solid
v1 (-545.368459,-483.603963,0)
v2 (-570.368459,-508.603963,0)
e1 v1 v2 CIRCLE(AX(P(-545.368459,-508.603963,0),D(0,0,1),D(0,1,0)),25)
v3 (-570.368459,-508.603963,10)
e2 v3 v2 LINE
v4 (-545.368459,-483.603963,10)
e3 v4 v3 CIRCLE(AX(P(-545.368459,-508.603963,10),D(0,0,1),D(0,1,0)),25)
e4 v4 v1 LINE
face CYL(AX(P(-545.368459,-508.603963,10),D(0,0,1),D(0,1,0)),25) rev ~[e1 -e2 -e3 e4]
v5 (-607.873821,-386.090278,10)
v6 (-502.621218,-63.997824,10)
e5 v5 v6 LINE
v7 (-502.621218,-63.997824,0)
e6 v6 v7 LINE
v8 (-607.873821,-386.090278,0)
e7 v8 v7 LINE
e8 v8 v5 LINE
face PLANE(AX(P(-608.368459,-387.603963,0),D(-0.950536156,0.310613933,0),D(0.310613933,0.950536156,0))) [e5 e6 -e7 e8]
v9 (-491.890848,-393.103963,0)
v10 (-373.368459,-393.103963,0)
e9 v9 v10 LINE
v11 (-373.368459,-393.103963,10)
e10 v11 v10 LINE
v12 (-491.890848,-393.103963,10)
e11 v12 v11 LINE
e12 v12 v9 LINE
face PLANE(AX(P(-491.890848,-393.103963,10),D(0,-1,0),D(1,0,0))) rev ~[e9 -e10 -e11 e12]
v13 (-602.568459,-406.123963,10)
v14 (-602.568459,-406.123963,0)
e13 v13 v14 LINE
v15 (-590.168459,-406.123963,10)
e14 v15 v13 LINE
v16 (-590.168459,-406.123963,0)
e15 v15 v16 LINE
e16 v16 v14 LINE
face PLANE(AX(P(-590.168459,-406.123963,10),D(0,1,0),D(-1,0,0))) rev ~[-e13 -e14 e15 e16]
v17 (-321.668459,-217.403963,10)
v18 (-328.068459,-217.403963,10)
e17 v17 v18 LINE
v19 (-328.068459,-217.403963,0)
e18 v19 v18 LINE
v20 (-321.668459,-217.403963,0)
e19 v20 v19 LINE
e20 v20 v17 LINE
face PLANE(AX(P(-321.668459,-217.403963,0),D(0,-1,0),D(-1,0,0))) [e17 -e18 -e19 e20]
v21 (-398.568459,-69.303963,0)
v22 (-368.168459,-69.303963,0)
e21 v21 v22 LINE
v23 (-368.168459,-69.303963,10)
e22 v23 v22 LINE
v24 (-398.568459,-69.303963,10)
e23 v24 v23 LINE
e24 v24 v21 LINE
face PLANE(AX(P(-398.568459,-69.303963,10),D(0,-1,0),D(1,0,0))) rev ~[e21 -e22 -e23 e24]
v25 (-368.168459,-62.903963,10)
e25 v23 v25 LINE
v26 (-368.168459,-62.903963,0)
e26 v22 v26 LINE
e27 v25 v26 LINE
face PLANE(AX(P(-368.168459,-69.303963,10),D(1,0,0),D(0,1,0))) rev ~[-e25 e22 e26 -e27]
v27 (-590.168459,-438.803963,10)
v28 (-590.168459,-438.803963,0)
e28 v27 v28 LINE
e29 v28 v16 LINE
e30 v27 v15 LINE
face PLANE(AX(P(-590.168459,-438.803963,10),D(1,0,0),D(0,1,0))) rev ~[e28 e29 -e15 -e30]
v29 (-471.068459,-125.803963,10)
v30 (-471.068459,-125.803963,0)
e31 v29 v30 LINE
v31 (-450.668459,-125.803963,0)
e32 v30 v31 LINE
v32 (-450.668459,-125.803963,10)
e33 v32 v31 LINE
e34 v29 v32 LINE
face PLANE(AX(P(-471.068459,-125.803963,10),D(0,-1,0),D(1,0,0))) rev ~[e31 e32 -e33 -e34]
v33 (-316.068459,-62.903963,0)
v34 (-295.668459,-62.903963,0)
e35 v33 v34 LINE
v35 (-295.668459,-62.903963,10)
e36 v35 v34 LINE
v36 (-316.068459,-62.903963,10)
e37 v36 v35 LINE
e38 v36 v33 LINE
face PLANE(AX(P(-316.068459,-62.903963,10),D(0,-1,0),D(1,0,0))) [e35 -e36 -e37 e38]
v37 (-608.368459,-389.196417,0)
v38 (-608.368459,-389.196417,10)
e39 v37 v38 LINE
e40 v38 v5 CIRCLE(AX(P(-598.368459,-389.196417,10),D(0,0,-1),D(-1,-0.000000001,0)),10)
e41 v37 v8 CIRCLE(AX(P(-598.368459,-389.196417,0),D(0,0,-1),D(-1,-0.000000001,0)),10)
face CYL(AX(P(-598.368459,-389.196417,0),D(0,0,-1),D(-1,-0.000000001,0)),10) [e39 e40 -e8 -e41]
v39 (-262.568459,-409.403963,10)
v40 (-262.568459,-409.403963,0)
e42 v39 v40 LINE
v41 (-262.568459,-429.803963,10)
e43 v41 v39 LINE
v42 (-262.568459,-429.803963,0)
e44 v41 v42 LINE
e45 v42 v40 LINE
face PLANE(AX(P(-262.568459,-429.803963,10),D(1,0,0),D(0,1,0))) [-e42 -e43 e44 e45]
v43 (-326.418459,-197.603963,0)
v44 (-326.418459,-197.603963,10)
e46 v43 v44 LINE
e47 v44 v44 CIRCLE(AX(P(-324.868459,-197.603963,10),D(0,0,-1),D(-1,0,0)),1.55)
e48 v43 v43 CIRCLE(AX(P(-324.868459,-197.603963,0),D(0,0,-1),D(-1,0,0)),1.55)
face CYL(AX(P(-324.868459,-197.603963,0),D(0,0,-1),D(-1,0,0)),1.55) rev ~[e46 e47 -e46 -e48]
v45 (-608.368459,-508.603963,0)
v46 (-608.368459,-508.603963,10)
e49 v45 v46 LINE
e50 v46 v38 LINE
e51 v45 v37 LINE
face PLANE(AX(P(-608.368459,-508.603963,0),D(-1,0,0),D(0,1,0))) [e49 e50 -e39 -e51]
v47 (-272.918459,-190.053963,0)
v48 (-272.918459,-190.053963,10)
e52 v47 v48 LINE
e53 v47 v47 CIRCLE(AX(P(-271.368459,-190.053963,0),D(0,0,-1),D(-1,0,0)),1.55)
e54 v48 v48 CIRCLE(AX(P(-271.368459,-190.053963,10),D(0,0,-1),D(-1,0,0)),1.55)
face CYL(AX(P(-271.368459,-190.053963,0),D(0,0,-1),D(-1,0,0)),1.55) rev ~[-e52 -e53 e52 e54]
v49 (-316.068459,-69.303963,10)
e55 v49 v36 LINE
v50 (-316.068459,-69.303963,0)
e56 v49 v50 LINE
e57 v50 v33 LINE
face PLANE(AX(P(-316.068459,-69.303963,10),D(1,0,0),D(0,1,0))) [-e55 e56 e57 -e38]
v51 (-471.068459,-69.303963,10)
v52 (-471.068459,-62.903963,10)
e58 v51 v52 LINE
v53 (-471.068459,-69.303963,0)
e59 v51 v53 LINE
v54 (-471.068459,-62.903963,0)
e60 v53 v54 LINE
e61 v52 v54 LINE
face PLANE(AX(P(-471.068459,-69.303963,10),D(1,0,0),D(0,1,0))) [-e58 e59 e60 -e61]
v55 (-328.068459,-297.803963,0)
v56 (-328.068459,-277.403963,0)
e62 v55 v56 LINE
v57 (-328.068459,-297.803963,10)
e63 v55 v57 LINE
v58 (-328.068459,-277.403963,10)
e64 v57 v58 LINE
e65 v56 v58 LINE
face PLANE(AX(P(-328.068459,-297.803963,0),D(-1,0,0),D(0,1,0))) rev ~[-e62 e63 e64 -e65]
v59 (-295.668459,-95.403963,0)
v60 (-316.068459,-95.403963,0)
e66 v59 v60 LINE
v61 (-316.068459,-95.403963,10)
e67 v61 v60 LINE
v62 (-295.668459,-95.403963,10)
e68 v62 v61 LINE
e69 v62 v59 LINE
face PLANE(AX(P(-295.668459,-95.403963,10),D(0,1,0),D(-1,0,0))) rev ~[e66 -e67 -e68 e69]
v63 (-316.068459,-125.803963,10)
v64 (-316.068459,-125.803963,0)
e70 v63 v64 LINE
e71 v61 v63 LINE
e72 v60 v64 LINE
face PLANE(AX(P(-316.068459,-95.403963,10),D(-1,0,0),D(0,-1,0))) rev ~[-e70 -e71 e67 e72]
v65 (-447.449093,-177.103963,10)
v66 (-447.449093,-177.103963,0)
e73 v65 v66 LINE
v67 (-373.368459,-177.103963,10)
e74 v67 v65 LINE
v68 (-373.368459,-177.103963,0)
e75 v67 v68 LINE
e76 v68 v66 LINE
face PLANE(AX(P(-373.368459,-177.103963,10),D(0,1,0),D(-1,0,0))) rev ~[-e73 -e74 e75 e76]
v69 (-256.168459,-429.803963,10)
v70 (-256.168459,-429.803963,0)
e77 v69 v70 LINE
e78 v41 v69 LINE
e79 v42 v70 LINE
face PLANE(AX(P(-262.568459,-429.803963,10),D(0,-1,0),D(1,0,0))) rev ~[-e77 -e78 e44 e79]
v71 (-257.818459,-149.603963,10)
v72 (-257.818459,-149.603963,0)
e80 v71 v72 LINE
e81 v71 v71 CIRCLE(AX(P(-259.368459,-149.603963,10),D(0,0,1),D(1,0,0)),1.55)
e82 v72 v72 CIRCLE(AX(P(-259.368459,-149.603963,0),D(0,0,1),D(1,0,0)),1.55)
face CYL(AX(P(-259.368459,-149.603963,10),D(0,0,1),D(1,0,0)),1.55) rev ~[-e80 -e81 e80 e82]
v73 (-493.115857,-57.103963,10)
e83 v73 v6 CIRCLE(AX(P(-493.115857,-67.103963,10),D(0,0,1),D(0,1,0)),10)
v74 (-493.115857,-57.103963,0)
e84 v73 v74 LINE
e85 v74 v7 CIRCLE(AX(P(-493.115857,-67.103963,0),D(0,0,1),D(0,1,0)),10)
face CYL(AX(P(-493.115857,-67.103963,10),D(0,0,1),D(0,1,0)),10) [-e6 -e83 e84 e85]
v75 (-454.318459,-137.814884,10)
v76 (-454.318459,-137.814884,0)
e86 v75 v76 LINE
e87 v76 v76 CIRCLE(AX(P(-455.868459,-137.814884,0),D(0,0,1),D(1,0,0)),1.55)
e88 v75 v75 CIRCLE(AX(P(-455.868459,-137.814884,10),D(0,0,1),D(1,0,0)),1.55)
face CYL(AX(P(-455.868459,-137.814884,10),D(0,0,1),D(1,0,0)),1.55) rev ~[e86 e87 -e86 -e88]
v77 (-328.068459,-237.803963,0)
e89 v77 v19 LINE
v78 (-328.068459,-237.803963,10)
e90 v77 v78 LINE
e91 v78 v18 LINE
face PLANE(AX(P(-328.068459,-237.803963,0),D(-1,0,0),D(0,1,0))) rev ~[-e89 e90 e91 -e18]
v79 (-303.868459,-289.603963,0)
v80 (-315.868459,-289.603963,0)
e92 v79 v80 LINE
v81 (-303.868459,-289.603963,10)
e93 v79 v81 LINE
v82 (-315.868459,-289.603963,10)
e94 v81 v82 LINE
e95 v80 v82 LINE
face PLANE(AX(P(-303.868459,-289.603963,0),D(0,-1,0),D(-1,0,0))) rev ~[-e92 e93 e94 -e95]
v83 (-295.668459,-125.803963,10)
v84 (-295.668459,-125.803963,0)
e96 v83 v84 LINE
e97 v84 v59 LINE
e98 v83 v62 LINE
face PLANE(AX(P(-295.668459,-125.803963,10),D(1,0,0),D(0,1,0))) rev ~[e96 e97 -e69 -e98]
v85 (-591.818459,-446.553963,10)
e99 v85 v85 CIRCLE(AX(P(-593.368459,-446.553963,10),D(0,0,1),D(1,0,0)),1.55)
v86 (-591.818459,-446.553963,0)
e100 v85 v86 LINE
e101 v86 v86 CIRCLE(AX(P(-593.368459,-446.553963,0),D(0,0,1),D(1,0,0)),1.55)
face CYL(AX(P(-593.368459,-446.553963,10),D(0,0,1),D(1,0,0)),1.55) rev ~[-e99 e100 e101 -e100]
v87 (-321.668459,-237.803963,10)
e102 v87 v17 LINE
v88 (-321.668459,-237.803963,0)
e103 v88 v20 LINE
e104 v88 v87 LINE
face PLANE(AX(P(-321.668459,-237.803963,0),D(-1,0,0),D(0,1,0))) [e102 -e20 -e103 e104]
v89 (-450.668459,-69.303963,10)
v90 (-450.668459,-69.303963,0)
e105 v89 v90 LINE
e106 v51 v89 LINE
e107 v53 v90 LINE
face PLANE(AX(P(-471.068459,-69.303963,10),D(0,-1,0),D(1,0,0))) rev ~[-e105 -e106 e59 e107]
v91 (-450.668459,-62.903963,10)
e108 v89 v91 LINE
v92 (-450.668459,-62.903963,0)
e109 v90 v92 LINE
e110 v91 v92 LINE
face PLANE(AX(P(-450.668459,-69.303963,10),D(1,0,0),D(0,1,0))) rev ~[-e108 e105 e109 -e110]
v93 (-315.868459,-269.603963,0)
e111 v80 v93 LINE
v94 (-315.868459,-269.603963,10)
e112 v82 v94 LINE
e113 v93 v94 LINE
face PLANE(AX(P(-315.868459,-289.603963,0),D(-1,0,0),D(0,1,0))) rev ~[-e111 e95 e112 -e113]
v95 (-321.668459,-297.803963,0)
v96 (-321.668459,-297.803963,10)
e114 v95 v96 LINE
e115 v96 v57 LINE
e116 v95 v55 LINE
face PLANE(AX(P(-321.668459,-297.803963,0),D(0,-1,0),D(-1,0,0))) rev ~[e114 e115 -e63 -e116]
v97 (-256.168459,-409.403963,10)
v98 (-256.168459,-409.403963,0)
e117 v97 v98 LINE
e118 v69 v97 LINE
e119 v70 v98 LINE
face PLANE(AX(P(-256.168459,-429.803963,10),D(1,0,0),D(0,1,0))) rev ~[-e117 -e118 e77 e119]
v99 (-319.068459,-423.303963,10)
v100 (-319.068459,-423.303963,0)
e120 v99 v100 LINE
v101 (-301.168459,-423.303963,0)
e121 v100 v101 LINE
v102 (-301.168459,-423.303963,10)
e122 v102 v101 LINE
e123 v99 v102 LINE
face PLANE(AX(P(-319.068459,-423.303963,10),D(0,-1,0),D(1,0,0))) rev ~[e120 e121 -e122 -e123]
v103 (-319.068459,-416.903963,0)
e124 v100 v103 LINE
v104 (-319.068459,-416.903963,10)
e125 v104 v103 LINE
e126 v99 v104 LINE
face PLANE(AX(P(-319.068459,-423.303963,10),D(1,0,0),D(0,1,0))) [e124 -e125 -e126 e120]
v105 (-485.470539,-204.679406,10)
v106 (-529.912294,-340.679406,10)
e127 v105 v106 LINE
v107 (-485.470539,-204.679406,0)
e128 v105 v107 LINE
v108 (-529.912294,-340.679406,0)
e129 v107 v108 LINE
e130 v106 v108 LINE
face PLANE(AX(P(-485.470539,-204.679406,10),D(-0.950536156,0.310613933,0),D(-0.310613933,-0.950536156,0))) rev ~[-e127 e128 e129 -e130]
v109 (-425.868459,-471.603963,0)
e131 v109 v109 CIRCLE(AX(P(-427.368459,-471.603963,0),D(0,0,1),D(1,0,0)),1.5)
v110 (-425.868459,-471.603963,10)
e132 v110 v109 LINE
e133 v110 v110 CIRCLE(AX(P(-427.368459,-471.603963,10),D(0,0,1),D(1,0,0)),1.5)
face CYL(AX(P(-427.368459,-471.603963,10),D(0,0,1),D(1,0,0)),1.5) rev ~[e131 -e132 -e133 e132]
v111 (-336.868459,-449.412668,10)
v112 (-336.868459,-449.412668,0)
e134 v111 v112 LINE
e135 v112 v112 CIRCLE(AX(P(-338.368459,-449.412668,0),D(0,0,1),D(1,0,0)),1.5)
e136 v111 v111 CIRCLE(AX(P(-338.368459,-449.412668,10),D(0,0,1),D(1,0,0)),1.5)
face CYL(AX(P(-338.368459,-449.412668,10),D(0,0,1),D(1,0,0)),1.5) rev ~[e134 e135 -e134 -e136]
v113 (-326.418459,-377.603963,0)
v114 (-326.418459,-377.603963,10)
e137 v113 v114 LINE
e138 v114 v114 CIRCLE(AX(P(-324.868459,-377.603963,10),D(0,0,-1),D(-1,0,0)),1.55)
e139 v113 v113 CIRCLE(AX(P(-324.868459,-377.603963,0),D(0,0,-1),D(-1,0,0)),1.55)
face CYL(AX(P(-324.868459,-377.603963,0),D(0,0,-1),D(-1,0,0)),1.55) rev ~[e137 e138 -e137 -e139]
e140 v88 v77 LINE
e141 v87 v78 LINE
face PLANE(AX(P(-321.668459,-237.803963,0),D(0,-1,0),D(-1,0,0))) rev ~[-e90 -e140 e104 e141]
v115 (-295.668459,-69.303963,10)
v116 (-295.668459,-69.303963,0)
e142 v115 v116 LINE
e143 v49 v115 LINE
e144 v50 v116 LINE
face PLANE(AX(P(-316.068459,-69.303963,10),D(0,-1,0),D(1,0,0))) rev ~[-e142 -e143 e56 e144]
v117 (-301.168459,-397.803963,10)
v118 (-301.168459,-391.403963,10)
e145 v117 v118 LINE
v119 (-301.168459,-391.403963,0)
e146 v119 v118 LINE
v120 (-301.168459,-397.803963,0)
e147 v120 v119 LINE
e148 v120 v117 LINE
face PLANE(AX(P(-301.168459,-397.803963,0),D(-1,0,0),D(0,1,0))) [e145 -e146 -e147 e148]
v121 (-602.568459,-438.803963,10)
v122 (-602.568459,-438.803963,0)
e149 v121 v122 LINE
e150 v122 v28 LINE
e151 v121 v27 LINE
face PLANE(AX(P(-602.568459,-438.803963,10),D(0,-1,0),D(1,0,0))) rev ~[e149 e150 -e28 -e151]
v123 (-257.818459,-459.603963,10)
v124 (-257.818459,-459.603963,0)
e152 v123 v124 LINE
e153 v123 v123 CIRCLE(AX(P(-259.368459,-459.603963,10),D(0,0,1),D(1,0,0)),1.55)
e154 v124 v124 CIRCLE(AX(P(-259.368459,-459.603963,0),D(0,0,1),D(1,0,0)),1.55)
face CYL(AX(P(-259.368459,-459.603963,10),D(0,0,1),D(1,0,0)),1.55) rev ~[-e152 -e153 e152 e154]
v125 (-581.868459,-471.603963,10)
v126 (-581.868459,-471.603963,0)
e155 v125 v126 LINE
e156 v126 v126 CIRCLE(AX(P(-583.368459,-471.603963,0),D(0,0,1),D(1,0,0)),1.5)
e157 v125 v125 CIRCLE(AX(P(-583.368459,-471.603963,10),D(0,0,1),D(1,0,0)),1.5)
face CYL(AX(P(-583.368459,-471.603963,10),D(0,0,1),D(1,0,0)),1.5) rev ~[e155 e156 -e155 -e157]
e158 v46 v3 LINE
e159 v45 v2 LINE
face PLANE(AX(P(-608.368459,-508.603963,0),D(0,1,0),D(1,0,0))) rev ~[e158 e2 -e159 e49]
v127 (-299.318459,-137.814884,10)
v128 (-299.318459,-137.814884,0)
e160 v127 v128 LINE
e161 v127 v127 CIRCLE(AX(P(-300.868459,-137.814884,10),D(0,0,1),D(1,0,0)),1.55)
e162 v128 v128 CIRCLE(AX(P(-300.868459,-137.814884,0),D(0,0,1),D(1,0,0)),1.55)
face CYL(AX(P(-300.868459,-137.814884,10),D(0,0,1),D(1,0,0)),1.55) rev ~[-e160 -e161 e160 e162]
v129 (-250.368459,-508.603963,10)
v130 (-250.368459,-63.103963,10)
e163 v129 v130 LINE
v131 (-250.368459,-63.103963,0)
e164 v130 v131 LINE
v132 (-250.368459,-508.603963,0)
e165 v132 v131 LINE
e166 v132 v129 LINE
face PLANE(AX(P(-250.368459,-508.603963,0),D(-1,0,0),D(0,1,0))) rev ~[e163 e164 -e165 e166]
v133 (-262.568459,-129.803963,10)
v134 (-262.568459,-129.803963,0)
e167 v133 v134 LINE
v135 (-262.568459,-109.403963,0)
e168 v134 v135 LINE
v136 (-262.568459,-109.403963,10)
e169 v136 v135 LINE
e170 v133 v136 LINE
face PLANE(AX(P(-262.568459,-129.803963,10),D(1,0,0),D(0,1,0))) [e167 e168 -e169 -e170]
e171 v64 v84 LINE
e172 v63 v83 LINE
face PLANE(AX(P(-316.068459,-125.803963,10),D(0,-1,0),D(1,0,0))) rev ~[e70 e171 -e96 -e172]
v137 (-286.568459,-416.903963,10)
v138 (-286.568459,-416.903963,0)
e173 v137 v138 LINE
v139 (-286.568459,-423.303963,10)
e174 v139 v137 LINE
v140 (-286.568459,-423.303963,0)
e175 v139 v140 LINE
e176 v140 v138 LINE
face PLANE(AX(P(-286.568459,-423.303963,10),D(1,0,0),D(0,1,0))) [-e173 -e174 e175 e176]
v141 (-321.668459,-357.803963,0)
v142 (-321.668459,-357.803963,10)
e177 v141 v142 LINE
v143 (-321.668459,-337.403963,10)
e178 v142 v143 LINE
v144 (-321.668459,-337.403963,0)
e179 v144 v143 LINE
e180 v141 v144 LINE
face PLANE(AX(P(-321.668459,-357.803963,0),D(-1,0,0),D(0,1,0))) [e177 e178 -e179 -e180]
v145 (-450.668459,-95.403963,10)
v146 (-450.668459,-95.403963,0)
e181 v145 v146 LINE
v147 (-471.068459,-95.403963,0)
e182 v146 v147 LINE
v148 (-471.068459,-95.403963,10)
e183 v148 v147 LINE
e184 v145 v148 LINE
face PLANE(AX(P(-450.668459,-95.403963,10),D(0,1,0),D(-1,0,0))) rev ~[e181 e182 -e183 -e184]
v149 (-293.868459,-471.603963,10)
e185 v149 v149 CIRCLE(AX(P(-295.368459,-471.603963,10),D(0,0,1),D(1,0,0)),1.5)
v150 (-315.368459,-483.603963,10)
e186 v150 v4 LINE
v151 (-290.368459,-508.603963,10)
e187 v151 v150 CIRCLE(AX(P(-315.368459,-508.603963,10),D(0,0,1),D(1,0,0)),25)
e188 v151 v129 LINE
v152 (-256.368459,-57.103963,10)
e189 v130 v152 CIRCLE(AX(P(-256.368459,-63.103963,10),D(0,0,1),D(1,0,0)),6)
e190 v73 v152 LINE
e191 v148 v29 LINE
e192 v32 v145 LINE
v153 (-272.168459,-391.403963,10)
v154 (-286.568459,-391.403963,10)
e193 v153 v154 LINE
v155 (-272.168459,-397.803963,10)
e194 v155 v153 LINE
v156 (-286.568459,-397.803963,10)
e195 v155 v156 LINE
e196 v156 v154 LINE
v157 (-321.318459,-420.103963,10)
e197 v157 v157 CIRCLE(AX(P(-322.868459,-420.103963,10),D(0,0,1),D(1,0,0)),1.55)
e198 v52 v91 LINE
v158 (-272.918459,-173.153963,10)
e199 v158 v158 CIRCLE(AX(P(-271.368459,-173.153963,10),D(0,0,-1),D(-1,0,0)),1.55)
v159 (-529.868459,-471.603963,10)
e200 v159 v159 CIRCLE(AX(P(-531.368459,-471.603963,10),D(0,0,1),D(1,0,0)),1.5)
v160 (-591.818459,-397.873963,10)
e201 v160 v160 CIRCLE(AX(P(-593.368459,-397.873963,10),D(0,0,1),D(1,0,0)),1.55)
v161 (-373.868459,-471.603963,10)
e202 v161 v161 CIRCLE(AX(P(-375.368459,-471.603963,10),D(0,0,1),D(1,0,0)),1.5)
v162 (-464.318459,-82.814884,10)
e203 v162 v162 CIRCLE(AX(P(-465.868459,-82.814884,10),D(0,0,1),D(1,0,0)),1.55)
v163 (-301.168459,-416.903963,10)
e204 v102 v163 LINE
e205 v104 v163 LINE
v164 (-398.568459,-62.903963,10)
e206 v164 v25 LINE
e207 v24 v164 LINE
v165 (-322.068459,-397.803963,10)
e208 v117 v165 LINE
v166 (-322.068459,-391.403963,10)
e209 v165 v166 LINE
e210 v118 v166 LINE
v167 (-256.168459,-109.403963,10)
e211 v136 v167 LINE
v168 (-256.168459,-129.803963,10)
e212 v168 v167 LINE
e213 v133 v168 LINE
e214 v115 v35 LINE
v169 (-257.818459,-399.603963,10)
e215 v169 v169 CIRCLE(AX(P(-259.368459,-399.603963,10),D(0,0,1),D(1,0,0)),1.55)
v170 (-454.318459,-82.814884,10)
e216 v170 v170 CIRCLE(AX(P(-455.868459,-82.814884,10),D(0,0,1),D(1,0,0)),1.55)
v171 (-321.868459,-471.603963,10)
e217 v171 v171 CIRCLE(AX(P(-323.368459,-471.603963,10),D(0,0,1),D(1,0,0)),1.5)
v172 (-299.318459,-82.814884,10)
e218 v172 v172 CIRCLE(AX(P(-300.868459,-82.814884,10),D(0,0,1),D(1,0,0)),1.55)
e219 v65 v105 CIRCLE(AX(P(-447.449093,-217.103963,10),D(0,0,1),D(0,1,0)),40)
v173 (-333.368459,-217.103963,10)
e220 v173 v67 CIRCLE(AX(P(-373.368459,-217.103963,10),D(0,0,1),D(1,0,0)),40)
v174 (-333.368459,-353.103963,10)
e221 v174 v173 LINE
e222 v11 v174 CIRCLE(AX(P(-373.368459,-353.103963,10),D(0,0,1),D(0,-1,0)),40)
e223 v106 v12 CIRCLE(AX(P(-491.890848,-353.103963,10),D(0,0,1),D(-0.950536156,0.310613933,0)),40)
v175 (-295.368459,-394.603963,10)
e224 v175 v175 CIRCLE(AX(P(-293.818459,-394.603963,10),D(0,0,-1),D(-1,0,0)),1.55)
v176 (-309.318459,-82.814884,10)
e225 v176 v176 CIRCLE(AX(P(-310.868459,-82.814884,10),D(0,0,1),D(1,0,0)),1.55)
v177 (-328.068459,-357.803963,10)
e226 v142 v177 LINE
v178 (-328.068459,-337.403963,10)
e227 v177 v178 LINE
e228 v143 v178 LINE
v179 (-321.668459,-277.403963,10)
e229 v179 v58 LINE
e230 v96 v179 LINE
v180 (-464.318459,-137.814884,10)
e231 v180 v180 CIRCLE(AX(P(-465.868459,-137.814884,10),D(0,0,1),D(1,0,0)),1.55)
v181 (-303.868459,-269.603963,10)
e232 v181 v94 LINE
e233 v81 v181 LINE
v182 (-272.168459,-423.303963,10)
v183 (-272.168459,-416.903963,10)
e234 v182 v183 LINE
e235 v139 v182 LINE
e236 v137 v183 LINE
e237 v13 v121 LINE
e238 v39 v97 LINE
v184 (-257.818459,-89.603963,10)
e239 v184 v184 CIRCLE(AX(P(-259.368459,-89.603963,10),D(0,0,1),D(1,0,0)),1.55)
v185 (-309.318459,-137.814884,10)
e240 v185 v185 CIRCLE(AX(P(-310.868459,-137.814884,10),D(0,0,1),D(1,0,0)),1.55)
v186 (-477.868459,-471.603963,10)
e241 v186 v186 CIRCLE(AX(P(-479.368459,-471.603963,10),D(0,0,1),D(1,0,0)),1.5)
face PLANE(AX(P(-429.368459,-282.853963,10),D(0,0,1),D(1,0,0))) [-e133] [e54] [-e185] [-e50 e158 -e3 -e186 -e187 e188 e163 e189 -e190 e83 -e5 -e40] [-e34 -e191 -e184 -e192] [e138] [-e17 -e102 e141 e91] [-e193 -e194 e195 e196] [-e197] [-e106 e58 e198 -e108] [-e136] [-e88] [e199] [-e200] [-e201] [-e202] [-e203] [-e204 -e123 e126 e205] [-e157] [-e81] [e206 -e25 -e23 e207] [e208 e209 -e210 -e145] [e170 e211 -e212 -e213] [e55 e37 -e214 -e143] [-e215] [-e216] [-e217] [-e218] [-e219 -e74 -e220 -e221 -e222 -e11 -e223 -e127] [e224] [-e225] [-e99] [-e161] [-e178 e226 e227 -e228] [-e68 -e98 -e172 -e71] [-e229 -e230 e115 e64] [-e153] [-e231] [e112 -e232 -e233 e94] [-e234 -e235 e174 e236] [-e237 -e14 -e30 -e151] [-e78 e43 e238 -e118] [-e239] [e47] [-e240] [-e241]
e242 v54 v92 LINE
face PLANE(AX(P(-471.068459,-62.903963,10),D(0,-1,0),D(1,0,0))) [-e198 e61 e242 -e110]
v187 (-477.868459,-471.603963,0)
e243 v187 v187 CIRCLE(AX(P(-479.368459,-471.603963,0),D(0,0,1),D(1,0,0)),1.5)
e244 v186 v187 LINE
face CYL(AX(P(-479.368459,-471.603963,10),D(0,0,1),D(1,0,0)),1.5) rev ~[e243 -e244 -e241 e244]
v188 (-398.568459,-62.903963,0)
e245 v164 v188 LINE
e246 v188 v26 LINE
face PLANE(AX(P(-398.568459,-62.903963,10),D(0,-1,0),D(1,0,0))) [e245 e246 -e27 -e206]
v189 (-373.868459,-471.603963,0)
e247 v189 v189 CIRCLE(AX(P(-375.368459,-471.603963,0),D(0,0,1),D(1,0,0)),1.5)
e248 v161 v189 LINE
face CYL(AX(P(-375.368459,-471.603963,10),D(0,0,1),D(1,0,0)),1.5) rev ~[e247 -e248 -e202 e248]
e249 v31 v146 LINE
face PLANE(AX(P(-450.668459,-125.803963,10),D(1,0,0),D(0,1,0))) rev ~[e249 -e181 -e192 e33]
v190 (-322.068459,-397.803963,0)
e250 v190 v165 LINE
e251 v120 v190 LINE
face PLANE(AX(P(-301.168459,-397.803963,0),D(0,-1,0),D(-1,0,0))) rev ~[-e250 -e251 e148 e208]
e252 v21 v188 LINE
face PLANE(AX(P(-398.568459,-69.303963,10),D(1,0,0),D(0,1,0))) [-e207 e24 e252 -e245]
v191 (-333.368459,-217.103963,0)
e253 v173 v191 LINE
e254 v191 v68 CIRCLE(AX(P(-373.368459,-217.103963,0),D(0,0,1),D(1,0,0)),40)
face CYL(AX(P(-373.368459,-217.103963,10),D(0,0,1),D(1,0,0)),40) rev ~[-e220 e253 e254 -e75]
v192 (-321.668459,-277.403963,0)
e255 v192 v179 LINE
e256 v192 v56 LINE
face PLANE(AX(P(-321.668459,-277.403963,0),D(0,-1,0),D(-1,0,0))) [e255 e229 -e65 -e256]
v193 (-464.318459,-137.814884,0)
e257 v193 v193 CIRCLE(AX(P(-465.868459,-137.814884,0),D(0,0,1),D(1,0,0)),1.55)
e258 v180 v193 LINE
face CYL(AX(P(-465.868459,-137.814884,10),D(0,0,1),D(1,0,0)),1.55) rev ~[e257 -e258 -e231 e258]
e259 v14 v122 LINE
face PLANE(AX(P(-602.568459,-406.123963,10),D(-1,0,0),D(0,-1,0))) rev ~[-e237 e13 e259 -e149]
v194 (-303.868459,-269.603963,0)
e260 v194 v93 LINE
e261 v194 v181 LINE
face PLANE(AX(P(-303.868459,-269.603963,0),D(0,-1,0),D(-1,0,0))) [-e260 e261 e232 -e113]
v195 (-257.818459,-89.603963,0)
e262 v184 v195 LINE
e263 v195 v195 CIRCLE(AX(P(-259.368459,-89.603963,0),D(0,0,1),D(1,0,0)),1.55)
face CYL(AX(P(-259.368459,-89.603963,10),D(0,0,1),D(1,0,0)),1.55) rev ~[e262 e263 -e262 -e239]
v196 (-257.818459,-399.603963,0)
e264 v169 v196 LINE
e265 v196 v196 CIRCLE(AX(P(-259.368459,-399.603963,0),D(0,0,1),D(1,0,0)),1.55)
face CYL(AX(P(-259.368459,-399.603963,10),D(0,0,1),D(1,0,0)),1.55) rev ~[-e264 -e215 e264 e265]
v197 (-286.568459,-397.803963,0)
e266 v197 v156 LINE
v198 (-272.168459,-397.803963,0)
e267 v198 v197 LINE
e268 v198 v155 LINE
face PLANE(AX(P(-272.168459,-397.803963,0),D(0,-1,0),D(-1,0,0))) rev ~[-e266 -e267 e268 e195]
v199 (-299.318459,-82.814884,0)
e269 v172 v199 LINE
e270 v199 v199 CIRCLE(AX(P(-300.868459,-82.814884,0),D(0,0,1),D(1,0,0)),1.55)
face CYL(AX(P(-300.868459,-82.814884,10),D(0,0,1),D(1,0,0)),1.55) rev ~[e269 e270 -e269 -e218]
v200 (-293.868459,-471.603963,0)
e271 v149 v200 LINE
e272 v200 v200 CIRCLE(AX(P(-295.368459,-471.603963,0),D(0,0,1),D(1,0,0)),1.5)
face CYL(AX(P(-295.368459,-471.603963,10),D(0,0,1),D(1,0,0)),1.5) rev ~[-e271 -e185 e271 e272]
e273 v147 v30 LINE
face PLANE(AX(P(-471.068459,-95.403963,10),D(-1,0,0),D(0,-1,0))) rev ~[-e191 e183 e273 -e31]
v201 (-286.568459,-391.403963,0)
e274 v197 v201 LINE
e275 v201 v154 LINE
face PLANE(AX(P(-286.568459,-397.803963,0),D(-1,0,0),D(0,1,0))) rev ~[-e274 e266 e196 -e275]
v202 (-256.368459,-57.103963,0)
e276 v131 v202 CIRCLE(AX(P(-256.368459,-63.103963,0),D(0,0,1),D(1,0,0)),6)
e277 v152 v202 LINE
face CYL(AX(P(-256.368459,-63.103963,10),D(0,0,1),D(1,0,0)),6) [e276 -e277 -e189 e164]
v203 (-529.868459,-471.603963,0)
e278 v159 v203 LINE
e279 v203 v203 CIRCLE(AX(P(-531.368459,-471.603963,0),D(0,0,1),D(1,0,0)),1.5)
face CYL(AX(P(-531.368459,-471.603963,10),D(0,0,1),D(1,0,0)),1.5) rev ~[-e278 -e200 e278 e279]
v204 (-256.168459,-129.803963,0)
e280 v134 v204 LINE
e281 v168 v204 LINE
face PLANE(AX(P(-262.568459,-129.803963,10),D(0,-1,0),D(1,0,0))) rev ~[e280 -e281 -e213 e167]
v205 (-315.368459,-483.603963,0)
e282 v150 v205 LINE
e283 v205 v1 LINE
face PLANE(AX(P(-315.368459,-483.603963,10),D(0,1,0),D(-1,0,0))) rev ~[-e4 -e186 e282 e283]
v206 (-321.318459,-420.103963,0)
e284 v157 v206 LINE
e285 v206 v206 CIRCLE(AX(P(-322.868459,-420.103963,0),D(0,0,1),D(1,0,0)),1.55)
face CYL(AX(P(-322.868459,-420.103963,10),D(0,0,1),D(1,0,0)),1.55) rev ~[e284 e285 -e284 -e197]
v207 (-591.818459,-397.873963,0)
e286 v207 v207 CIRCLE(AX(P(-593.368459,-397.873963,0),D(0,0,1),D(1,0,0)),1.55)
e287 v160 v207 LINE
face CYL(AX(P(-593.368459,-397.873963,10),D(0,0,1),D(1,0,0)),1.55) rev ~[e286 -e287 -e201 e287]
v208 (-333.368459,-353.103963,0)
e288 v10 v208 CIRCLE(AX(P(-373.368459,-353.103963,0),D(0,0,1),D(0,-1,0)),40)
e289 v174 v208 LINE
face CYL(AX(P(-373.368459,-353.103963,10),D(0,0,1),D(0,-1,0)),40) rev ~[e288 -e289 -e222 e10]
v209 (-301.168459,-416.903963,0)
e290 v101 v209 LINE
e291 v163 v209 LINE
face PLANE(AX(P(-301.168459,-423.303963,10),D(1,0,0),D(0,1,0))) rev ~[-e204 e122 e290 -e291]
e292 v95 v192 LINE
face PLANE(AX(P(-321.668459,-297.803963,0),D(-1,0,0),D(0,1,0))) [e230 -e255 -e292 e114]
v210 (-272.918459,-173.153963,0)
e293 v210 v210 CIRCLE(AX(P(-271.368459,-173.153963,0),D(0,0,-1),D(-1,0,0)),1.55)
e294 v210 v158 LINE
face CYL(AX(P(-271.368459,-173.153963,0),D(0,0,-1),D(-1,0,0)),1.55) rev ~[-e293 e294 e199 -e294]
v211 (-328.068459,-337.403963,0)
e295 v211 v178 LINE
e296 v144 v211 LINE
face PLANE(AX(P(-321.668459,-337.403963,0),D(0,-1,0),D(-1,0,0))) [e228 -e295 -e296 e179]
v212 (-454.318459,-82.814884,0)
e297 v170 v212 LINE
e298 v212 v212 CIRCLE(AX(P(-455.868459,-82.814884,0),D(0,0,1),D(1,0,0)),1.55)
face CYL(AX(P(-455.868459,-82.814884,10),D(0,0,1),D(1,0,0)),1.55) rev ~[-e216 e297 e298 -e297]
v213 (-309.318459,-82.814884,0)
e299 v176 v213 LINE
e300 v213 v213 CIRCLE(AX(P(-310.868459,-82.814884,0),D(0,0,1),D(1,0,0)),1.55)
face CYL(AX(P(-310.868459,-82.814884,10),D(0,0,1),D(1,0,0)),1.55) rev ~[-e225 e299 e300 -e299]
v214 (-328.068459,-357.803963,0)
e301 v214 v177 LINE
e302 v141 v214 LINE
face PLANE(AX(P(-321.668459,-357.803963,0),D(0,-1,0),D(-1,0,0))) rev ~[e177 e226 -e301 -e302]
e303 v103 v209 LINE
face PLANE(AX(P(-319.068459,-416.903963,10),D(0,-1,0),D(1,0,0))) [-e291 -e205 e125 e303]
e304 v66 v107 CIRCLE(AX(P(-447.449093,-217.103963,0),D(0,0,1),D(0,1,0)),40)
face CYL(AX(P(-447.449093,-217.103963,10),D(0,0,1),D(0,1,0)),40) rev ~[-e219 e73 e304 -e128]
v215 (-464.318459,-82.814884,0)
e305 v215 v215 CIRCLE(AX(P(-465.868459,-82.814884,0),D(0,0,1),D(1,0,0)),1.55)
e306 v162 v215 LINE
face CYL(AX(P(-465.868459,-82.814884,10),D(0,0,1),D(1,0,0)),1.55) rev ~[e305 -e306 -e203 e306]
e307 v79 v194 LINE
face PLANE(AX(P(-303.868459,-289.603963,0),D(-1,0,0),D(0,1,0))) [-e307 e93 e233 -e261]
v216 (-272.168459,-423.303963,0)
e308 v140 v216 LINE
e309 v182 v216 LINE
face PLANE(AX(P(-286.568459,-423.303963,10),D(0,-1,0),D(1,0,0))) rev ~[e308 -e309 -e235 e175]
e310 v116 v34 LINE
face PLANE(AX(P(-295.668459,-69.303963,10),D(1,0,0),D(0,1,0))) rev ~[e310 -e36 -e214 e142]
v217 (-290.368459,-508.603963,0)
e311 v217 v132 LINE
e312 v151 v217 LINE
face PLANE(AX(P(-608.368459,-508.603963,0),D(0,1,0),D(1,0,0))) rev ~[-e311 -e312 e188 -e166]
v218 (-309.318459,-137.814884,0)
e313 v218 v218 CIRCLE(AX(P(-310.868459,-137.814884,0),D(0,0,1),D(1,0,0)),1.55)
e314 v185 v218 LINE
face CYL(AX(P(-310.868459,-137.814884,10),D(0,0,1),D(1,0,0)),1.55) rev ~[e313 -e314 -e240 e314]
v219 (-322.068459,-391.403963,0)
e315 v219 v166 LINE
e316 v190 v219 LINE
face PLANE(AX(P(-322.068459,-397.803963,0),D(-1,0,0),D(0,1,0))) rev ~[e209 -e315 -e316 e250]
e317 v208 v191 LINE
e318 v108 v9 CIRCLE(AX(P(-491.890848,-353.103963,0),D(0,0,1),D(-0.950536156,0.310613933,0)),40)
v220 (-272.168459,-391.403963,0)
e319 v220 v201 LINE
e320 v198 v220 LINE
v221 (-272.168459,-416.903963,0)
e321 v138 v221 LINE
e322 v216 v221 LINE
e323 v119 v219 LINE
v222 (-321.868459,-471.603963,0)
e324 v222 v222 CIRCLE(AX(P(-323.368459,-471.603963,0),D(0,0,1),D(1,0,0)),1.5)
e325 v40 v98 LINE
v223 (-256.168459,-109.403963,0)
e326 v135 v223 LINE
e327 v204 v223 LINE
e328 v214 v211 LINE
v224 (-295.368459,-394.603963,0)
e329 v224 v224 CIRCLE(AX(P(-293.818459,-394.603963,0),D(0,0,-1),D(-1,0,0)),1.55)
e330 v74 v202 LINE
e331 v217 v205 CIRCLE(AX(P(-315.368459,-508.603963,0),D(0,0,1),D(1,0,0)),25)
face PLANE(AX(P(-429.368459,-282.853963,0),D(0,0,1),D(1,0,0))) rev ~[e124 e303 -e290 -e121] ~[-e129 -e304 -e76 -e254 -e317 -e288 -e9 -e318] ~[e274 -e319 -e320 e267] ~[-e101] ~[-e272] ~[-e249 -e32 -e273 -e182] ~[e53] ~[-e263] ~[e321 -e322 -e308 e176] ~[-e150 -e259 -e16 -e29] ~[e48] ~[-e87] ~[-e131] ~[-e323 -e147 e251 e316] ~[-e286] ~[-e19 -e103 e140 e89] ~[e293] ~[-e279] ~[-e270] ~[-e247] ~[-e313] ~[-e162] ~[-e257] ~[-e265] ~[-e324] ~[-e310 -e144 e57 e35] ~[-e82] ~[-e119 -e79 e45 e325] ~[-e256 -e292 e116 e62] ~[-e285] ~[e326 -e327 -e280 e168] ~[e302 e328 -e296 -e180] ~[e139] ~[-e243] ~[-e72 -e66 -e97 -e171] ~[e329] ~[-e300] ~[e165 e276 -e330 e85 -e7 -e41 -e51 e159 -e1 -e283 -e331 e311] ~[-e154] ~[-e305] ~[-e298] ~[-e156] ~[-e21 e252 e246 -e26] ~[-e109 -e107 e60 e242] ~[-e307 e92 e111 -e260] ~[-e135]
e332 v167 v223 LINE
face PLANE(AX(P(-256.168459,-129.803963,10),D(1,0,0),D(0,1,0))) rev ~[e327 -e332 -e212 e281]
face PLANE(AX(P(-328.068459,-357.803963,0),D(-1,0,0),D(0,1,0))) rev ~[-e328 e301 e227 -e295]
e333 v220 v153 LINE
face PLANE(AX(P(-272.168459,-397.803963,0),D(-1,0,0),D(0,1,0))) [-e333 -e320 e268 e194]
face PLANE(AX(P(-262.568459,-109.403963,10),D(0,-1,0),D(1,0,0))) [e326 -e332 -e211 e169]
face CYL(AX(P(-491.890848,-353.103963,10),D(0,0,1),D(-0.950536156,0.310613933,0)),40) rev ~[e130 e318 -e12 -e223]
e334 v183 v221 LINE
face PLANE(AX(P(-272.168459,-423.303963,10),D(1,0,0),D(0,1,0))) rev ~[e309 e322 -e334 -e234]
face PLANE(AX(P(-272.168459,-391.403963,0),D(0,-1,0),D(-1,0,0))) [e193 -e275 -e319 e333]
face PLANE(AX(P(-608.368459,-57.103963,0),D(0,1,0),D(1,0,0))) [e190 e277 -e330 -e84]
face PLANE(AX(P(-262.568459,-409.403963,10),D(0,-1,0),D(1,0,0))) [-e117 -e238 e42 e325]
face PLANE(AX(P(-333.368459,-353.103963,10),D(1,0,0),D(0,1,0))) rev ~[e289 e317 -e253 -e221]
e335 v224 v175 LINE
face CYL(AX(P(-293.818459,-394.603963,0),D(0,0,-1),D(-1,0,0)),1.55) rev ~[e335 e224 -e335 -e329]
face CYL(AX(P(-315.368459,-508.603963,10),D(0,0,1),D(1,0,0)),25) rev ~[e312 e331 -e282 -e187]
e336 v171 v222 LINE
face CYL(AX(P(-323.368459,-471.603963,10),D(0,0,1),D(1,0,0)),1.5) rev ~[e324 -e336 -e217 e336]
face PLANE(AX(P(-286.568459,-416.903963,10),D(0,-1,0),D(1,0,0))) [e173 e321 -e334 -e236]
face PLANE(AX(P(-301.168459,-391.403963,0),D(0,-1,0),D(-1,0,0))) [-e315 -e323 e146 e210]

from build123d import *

# Parameters (mm, degrees)
SZKIC1_W                    = 358
SZKIC1_H                    = 451.5
DODANIE_WYCI_GNI_CIE1_DEPTH = 10
WYTNIJ_WYCI_GNI_CIE1_DEPTH  = 10
WYTNIJ_WYCI_GNI_CIE2_DEPTH  = 10
WYTNIJ_WYCI_GNI_CIE3_DEPTH  = 10
SZKIC8_W                    = 6.4
SZKIC8_H                    = 20.4
WYTNIJ_WYCI_GNI_CIE4_DEPTH  = 10
SZYK_LINIOWY1_COUNT         = 2
SZYK_LINIOWY1_PITCH         = 300
SZKIC9_R                    = 1.55
WYTNIJ_WYCI_GNI_CIE5_DEPTH  = 10
SZYK_LINIOWY2_COUNT         = 2
SZYK_LINIOWY2_PITCH         = 60
SZYK_LINIOWY2_COUNT_DIR2    = 2
SZYK_LINIOWY2_PITCH_DIR2    = 310
WYTNIJ_WYCI_GNI_CIE6_DEPTH  = 794.025959913
SZKIC12_R                   = 1.55
WYTNIJ_WYCI_GNI_CIE7_DEPTH  = 10
SZKIC15_R                   = 1.5
WYTNIJ_WYCI_GNI_CIE9_DEPTH  = 10
SZKIC17_R                   = 1.55
WYTNIJ_WYCI_GNI_CIE10_DEPTH = 10
SZKIC19_W                   = 20.4
SZKIC19_H                   = 6.4
SZKIC19_W_2                 = 30.4
WYTNIJ_WYCI_GNI_CIE11_DEPTH = 10
SZKIC23_R                   = 1.55
SZKIC23_W                   = 14.4
SZKIC23_H                   = 6.4
SZKIC23_W_2                 = 17.9
WYTNIJ_WYCI_GNI_CIE12_DEPTH = 10
SZKIC31_R                   = 1.55
WYTNIJ_WYCI_GNI_CIE15_DEPTH = 10
SZYK_LINIOWY3_COUNT         = 2
SZYK_LINIOWY3_PITCH         = 180
SZKIC33_W                   = 6.4
SZKIC33_H                   = 20.4
WYTNIJ_WYCI_GNI_CIE16_DEPTH = 10
SZYK_LINIOWY4_COUNT         = 3
SZYK_LINIOWY4_PITCH         = 60
SZKIC35_R                   = 1.55
SZKIC35_W                   = 20.9
SZKIC35_H                   = 6.4
SZKIC35_W_2                 = 14.4
WYTNIJ_WYCI_GNI_CIE17_DEPTH = 10
SZYK_LINIOWY5_COUNT         = 2
SZYK_LINIOWY5_PITCH         = 155
WYTNIJ_WYCI_GNI_CIE18_DEPTH = 10
SZKIC37_W                   = 12
SZKIC37_H                   = 20
WYTNIJ_WYCI_GNI_CIE19_DEPTH = 10
SZKIC39_R                   = 1.55
WYTNIJ_WYCI_GNI_CIE21_DEPTH = 10


with BuildPart() as part:
    # Szkic1 → Dodanie-wyciągnięcie1 (new body)
    with BuildSketch(Plane.XY):
        with Locations((-429.368459045, -282.853962956)):
            Rectangle(SZKIC1_W, SZKIC1_H)
    extrude(amount=DODANIE_WYCI_GNI_CIE1_DEPTH)

    # Szkic2 → Wytnij-wyciągnięcie1 (cut)
    with BuildSketch(Plane(origin=(0, 0, 0), x_dir=(-1, 0, 0), z_dir=(0, 0, -1))):
        Polygon((608.368459045, -387.603962956), (500.368459045, -57.103962956), (608.368459045, -57.103962956), align=None)
    extrude(amount=-WYTNIJ_WYCI_GNI_CIE1_DEPTH, mode=Mode.SUBTRACT)

    # Szkic3 → Wytnij-wyciągnięcie2 (cut)
    with BuildSketch(Plane.XY.offset(10)):
        with BuildLine():
            Line((-570.368459045, -508.603962956), (-290.368459045, -508.603962956))
            ThreePointArc((-290.368459045, -508.603962956), (-297.690789516, -490.926293426), (-315.368459045, -483.603962956))
            Line((-315.368459045, -483.603962956), (-545.368459045, -483.603962956))
            ThreePointArc((-545.368459045, -483.603962956), (-563.046128575, -490.926293426), (-570.368459045, -508.603962956))
        make_face()
    extrude(amount=-WYTNIJ_WYCI_GNI_CIE2_DEPTH, mode=Mode.SUBTRACT)

    # Szkic4 → Wytnij-wyciągnięcie3 (cut)
    with BuildSketch(Plane.XY.offset(10)):
        with BuildLine():
            Line((-491.890848015, -393.103962956), (-373.368459045, -393.103962956))
            ThreePointArc((-373.368459045, -393.103962956), (-345.084187798, -381.388234203), (-333.368459045, -353.103962956))
            Line((-333.368459045, -353.103962956), (-333.368459045, -217.103962956))
            ThreePointArc((-333.368459045, -217.103962956), (-345.084187798, -188.819691708), (-373.368459045, -177.103962956))
            Line((-373.368459045, -177.103962956), (-447.449093098, -177.103962956))
            ThreePointArc((-447.449093098, -177.103962956), (-470.93331873, -184.723549949), (-485.470539353, -204.679405632))
            Line((-485.470539353, -204.679405632), (-529.91229427, -340.679405632))
            ThreePointArc((-529.91229427, -340.679405632), (-524.271261022, -376.588188587), (-491.890848015, -393.103962956))
        make_face()
    extrude(amount=-WYTNIJ_WYCI_GNI_CIE3_DEPTH, mode=Mode.SUBTRACT)

    # Szkic8 → Wytnij-wyciągnięcie4 (cut)
    with BuildSketch(Plane.XY.offset(10)):
        with Locations((-259.368459045, -119.603962956)):
            Rectangle(SZKIC8_W, SZKIC8_H)
    wytnij_wyci_gni_cie4 = extrude(amount=-WYTNIJ_WYCI_GNI_CIE4_DEPTH, mode=Mode.SUBTRACT)

    # Szyk liniowy1: Wytnij-wyciągnięcie4 ×2
    with Locations(*[(0, -i * SZYK_LINIOWY1_PITCH, 0) for i in range(1, SZYK_LINIOWY1_COUNT)]):
        add(wytnij_wyci_gni_cie4, mode=Mode.SUBTRACT)

    # Szkic9 → Wytnij-wyciągnięcie5 (cut)
    with BuildSketch(Plane.XY.offset(10)):
        with Locations((-259.368459045, -89.603962956)):
            Circle(SZKIC9_R)
    wytnij_wyci_gni_cie5 = extrude(amount=-WYTNIJ_WYCI_GNI_CIE5_DEPTH, mode=Mode.SUBTRACT)

    # Szyk liniowy2: Wytnij-wyci_gni_cie5 2 × 2
    with Locations(*[Vector(0, -1, 0) * (i * SZYK_LINIOWY2_PITCH) + Vector(0, -1, 0) * (j * SZYK_LINIOWY2_PITCH_DIR2) for i in range(SZYK_LINIOWY2_COUNT) for j in range(SZYK_LINIOWY2_COUNT_DIR2) if (i, j) != (0, 0)]):
        add(wytnij_wyci_gni_cie5, mode=Mode.SUBTRACT)

    # Szkic10 → Wytnij-wyciągnięcie6 (cut, through all)
    with BuildSketch(Plane.XY.offset(10)):
        with BuildLine():
            Line((-256.368459045, -57.103962956), (-250.368459045, -57.103962956))
            Line((-250.368459045, -57.103962956), (-250.368459045, -63.103962956))
            ThreePointArc((-250.368459045, -63.103962956), (-252.125818358, -58.861322269), (-256.368459045, -57.103962956))
        make_face()
        with BuildLine():
            Line((-502.621218356, -63.997823625), (-500.368459045, -57.103962956))
            Line((-500.368459045, -57.103962956), (-493.115856793, -57.103962956))
            ThreePointArc((-493.115856793, -57.103962956), (-498.986913201, -59.008859704), (-502.621218356, -63.997823625))
        make_face()
    extrude(amount=-WYTNIJ_WYCI_GNI_CIE6_DEPTH, mode=Mode.SUBTRACT)

    # Szkic12 → Wytnij-wyciągnięcie7 (cut)
    with BuildSketch(Plane.XY.offset(10)):
        with Locations((-593.368459045, -397.873962956)):
            Circle(SZKIC12_R)
        with Locations((-593.368459045, -446.553962956)):
            Circle(SZKIC12_R)
        Polygon((-602.568459045, -406.123962956), (-602.568459045, -438.803962956), (-596.368459045, -438.803962956), (-590.168459045, -438.803962956), (-590.168459045, -406.123962956), (-596.368459045, -406.123962956), align=None)
    extrude(amount=-WYTNIJ_WYCI_GNI_CIE7_DEPTH, mode=Mode.SUBTRACT)

    # Szkic15 → Wytnij-wyciągnięcie9 (cut)
    with BuildSketch(Plane.XY.offset(10)):
        with Locations((-295.368459045, -471.603962956)):
            Circle(SZKIC15_R)
        with Locations((-323.368459045, -471.603962956)):
            Circle(SZKIC15_R)
        with Locations((-375.368459045, -471.603962956)):
            Circle(SZKIC15_R)
        with Locations((-427.368459045, -471.603962956)):
            Circle(SZKIC15_R)
        with Locations((-479.368459045, -471.603962956)):
            Circle(SZKIC15_R)
        with Locations((-531.368459045, -471.603962956)):
            Circle(SZKIC15_R)
        with Locations((-583.368459045, -471.603962956)):
            Circle(SZKIC15_R)
        with Locations((-338.368459045, -449.412668339)):
            Circle(SZKIC15_R)
    extrude(amount=-WYTNIJ_WYCI_GNI_CIE9_DEPTH, mode=Mode.SUBTRACT)

    # Szkic17 → Wytnij-wyciągnięcie10 (cut)
    with BuildSketch(Plane.XY.offset(10)):
        with Locations((-300.868459045, -82.814883616)):
            Circle(SZKIC17_R)
        with Locations((-310.868459045, -82.814883616)):
            Circle(SZKIC17_R)
        with Locations((-300.868459045, -137.814883616)):
            Circle(SZKIC17_R)
        with Locations((-310.868459045, -137.814883616)):
            Circle(SZKIC17_R)
        Polygon((-305.868459045, -95.403962953), (-316.068459045, -95.403962953), (-316.068459045, -125.803962953), (-305.868459045, -125.803962953), (-295.668459045, -125.803962953), (-295.668459045, -95.403962953), align=None)
    wytnij_wyci_gni_cie10 = extrude(amount=-WYTNIJ_WYCI_GNI_CIE10_DEPTH, mode=Mode.SUBTRACT)

    # Szkic19 → Wytnij-wyciągnięcie11 (cut)
    with BuildSketch(Plane.XY.offset(10)):
        with Locations((-305.868459045, -66.103962956)):
            Rectangle(SZKIC19_W, SZKIC19_H)
        with Locations((-383.368459045, -66.103962956)):
            Rectangle(SZKIC19_W_2, SZKIC19_H)
        with Locations((-460.868459045, -66.103962956)):
            Rectangle(SZKIC19_W, SZKIC19_H)
    extrude(amount=-WYTNIJ_WYCI_GNI_CIE11_DEPTH, mode=Mode.SUBTRACT)

    # Szkic23 → Wytnij-wyciągnięcie12 (cut)
    with BuildSketch(Plane.XY.offset(10)):
        with Locations((-322.868459045, -420.103962956)):
            Circle(SZKIC23_R)
        with Locations((-279.368459045, -420.103962956)):
            Rectangle(SZKIC23_W, SZKIC23_H)
        with Locations((-310.118459045, -420.103962956)):
            Rectangle(SZKIC23_W_2, SZKIC23_H)
    extrude(amount=-WYTNIJ_WYCI_GNI_CIE12_DEPTH, mode=Mode.SUBTRACT)

    # Szkic31 → Wytnij-wyciągnięcie15 (cut)
    with BuildSketch(Plane(origin=(0, 0, 0), x_dir=(-1, 0, 0), z_dir=(0, 0, -1))):
        with Locations((324.868459045, -377.603962956)):
            Circle(SZKIC31_R)
    wytnij_wyci_gni_cie15 = extrude(amount=-WYTNIJ_WYCI_GNI_CIE15_DEPTH, mode=Mode.SUBTRACT)

    # Szyk liniowy3: Wytnij-wyciągnięcie15 ×2
    with Locations(*[(0, i * SZYK_LINIOWY3_PITCH, 0) for i in range(1, SZYK_LINIOWY3_COUNT)]):
        add(wytnij_wyci_gni_cie15, mode=Mode.SUBTRACT)

    # Szkic33 → Wytnij-wyciągnięcie16 (cut)
    with BuildSketch(Plane(origin=(0, 0, 0), x_dir=(-1, 0, 0), z_dir=(0, 0, -1))):
        with Locations((324.868459045, -347.603962956)):
            Rectangle(SZKIC33_W, SZKIC33_H)
    wytnij_wyci_gni_cie16 = extrude(amount=-WYTNIJ_WYCI_GNI_CIE16_DEPTH, mode=Mode.SUBTRACT)

    # Szyk liniowy4: Wytnij-wyciągnięcie16 ×3
    with Locations(*[(0, i * SZYK_LINIOWY4_PITCH, 0) for i in range(1, SZYK_LINIOWY4_COUNT)]):
        add(wytnij_wyci_gni_cie16, mode=Mode.SUBTRACT)

    # Szkic35 → Wytnij-wyciągnięcie17 (cut)
    with BuildSketch(Plane(origin=(0, 0, 0), x_dir=(-1, 0, 0), z_dir=(0, 0, -1))):
        with Locations((293.818459045, -394.603962956)):
            Circle(SZKIC35_R)
        with Locations((311.618459045, -394.603962956)):
            Rectangle(SZKIC35_W, SZKIC35_H)
        with Locations((279.368459045, -394.603962956)):
            Rectangle(SZKIC35_W_2, SZKIC35_H)
    extrude(amount=-WYTNIJ_WYCI_GNI_CIE17_DEPTH, mode=Mode.SUBTRACT)

    # Szyk liniowy5: Wytnij-wyciągnięcie10 ×2
    with Locations(*[(-i * SZYK_LINIOWY5_PITCH, 0, 0) for i in range(1, SZYK_LINIOWY5_COUNT)]):
        add(wytnij_wyci_gni_cie10, mode=Mode.SUBTRACT)

    # Szkic36 → Wytnij-wyciągnięcie18 (cut)
    with BuildSketch(Plane(origin=(0, 0, 0), x_dir=(-1, 0, 0), z_dir=(0, 0, -1))):
        with BuildLine():
            Line((607.873820609, -386.090277741), (608.368459045, -387.603962956))
            Line((608.368459045, -387.603962956), (608.368459045, -389.196417072))
            ThreePointArc((608.368459045, -389.196417072), (608.244025248, -387.623778467), (607.873820609, -386.090277741))
        make_face()
    extrude(amount=-WYTNIJ_WYCI_GNI_CIE18_DEPTH, mode=Mode.SUBTRACT)

    # Szkic37 → Wytnij-wyciągnięcie19 (cut)
    with BuildSketch(Plane(origin=(0, 0, 0), x_dir=(-1, 0, 0), z_dir=(0, 0, -1))):
        with Locations((309.868459045, -279.603962956)):
            Rectangle(SZKIC37_W, SZKIC37_H)
    extrude(amount=-WYTNIJ_WYCI_GNI_CIE19_DEPTH, mode=Mode.SUBTRACT)

    # Szkic39 → Wytnij-wyciągnięcie21 (cut)
    with BuildSketch(Plane(origin=(0, 0, 0), x_dir=(-1, 0, 0), z_dir=(0, 0, -1))):
        with Locations((271.368459045, -190.053962956)):
            Circle(SZKIC39_R)
        with Locations((271.368459045, -173.153962956)):
            Circle(SZKIC39_R)
    extrude(amount=-WYTNIJ_WYCI_GNI_CIE21_DEPTH, mode=Mode.SUBTRACT)


solid = part.part
